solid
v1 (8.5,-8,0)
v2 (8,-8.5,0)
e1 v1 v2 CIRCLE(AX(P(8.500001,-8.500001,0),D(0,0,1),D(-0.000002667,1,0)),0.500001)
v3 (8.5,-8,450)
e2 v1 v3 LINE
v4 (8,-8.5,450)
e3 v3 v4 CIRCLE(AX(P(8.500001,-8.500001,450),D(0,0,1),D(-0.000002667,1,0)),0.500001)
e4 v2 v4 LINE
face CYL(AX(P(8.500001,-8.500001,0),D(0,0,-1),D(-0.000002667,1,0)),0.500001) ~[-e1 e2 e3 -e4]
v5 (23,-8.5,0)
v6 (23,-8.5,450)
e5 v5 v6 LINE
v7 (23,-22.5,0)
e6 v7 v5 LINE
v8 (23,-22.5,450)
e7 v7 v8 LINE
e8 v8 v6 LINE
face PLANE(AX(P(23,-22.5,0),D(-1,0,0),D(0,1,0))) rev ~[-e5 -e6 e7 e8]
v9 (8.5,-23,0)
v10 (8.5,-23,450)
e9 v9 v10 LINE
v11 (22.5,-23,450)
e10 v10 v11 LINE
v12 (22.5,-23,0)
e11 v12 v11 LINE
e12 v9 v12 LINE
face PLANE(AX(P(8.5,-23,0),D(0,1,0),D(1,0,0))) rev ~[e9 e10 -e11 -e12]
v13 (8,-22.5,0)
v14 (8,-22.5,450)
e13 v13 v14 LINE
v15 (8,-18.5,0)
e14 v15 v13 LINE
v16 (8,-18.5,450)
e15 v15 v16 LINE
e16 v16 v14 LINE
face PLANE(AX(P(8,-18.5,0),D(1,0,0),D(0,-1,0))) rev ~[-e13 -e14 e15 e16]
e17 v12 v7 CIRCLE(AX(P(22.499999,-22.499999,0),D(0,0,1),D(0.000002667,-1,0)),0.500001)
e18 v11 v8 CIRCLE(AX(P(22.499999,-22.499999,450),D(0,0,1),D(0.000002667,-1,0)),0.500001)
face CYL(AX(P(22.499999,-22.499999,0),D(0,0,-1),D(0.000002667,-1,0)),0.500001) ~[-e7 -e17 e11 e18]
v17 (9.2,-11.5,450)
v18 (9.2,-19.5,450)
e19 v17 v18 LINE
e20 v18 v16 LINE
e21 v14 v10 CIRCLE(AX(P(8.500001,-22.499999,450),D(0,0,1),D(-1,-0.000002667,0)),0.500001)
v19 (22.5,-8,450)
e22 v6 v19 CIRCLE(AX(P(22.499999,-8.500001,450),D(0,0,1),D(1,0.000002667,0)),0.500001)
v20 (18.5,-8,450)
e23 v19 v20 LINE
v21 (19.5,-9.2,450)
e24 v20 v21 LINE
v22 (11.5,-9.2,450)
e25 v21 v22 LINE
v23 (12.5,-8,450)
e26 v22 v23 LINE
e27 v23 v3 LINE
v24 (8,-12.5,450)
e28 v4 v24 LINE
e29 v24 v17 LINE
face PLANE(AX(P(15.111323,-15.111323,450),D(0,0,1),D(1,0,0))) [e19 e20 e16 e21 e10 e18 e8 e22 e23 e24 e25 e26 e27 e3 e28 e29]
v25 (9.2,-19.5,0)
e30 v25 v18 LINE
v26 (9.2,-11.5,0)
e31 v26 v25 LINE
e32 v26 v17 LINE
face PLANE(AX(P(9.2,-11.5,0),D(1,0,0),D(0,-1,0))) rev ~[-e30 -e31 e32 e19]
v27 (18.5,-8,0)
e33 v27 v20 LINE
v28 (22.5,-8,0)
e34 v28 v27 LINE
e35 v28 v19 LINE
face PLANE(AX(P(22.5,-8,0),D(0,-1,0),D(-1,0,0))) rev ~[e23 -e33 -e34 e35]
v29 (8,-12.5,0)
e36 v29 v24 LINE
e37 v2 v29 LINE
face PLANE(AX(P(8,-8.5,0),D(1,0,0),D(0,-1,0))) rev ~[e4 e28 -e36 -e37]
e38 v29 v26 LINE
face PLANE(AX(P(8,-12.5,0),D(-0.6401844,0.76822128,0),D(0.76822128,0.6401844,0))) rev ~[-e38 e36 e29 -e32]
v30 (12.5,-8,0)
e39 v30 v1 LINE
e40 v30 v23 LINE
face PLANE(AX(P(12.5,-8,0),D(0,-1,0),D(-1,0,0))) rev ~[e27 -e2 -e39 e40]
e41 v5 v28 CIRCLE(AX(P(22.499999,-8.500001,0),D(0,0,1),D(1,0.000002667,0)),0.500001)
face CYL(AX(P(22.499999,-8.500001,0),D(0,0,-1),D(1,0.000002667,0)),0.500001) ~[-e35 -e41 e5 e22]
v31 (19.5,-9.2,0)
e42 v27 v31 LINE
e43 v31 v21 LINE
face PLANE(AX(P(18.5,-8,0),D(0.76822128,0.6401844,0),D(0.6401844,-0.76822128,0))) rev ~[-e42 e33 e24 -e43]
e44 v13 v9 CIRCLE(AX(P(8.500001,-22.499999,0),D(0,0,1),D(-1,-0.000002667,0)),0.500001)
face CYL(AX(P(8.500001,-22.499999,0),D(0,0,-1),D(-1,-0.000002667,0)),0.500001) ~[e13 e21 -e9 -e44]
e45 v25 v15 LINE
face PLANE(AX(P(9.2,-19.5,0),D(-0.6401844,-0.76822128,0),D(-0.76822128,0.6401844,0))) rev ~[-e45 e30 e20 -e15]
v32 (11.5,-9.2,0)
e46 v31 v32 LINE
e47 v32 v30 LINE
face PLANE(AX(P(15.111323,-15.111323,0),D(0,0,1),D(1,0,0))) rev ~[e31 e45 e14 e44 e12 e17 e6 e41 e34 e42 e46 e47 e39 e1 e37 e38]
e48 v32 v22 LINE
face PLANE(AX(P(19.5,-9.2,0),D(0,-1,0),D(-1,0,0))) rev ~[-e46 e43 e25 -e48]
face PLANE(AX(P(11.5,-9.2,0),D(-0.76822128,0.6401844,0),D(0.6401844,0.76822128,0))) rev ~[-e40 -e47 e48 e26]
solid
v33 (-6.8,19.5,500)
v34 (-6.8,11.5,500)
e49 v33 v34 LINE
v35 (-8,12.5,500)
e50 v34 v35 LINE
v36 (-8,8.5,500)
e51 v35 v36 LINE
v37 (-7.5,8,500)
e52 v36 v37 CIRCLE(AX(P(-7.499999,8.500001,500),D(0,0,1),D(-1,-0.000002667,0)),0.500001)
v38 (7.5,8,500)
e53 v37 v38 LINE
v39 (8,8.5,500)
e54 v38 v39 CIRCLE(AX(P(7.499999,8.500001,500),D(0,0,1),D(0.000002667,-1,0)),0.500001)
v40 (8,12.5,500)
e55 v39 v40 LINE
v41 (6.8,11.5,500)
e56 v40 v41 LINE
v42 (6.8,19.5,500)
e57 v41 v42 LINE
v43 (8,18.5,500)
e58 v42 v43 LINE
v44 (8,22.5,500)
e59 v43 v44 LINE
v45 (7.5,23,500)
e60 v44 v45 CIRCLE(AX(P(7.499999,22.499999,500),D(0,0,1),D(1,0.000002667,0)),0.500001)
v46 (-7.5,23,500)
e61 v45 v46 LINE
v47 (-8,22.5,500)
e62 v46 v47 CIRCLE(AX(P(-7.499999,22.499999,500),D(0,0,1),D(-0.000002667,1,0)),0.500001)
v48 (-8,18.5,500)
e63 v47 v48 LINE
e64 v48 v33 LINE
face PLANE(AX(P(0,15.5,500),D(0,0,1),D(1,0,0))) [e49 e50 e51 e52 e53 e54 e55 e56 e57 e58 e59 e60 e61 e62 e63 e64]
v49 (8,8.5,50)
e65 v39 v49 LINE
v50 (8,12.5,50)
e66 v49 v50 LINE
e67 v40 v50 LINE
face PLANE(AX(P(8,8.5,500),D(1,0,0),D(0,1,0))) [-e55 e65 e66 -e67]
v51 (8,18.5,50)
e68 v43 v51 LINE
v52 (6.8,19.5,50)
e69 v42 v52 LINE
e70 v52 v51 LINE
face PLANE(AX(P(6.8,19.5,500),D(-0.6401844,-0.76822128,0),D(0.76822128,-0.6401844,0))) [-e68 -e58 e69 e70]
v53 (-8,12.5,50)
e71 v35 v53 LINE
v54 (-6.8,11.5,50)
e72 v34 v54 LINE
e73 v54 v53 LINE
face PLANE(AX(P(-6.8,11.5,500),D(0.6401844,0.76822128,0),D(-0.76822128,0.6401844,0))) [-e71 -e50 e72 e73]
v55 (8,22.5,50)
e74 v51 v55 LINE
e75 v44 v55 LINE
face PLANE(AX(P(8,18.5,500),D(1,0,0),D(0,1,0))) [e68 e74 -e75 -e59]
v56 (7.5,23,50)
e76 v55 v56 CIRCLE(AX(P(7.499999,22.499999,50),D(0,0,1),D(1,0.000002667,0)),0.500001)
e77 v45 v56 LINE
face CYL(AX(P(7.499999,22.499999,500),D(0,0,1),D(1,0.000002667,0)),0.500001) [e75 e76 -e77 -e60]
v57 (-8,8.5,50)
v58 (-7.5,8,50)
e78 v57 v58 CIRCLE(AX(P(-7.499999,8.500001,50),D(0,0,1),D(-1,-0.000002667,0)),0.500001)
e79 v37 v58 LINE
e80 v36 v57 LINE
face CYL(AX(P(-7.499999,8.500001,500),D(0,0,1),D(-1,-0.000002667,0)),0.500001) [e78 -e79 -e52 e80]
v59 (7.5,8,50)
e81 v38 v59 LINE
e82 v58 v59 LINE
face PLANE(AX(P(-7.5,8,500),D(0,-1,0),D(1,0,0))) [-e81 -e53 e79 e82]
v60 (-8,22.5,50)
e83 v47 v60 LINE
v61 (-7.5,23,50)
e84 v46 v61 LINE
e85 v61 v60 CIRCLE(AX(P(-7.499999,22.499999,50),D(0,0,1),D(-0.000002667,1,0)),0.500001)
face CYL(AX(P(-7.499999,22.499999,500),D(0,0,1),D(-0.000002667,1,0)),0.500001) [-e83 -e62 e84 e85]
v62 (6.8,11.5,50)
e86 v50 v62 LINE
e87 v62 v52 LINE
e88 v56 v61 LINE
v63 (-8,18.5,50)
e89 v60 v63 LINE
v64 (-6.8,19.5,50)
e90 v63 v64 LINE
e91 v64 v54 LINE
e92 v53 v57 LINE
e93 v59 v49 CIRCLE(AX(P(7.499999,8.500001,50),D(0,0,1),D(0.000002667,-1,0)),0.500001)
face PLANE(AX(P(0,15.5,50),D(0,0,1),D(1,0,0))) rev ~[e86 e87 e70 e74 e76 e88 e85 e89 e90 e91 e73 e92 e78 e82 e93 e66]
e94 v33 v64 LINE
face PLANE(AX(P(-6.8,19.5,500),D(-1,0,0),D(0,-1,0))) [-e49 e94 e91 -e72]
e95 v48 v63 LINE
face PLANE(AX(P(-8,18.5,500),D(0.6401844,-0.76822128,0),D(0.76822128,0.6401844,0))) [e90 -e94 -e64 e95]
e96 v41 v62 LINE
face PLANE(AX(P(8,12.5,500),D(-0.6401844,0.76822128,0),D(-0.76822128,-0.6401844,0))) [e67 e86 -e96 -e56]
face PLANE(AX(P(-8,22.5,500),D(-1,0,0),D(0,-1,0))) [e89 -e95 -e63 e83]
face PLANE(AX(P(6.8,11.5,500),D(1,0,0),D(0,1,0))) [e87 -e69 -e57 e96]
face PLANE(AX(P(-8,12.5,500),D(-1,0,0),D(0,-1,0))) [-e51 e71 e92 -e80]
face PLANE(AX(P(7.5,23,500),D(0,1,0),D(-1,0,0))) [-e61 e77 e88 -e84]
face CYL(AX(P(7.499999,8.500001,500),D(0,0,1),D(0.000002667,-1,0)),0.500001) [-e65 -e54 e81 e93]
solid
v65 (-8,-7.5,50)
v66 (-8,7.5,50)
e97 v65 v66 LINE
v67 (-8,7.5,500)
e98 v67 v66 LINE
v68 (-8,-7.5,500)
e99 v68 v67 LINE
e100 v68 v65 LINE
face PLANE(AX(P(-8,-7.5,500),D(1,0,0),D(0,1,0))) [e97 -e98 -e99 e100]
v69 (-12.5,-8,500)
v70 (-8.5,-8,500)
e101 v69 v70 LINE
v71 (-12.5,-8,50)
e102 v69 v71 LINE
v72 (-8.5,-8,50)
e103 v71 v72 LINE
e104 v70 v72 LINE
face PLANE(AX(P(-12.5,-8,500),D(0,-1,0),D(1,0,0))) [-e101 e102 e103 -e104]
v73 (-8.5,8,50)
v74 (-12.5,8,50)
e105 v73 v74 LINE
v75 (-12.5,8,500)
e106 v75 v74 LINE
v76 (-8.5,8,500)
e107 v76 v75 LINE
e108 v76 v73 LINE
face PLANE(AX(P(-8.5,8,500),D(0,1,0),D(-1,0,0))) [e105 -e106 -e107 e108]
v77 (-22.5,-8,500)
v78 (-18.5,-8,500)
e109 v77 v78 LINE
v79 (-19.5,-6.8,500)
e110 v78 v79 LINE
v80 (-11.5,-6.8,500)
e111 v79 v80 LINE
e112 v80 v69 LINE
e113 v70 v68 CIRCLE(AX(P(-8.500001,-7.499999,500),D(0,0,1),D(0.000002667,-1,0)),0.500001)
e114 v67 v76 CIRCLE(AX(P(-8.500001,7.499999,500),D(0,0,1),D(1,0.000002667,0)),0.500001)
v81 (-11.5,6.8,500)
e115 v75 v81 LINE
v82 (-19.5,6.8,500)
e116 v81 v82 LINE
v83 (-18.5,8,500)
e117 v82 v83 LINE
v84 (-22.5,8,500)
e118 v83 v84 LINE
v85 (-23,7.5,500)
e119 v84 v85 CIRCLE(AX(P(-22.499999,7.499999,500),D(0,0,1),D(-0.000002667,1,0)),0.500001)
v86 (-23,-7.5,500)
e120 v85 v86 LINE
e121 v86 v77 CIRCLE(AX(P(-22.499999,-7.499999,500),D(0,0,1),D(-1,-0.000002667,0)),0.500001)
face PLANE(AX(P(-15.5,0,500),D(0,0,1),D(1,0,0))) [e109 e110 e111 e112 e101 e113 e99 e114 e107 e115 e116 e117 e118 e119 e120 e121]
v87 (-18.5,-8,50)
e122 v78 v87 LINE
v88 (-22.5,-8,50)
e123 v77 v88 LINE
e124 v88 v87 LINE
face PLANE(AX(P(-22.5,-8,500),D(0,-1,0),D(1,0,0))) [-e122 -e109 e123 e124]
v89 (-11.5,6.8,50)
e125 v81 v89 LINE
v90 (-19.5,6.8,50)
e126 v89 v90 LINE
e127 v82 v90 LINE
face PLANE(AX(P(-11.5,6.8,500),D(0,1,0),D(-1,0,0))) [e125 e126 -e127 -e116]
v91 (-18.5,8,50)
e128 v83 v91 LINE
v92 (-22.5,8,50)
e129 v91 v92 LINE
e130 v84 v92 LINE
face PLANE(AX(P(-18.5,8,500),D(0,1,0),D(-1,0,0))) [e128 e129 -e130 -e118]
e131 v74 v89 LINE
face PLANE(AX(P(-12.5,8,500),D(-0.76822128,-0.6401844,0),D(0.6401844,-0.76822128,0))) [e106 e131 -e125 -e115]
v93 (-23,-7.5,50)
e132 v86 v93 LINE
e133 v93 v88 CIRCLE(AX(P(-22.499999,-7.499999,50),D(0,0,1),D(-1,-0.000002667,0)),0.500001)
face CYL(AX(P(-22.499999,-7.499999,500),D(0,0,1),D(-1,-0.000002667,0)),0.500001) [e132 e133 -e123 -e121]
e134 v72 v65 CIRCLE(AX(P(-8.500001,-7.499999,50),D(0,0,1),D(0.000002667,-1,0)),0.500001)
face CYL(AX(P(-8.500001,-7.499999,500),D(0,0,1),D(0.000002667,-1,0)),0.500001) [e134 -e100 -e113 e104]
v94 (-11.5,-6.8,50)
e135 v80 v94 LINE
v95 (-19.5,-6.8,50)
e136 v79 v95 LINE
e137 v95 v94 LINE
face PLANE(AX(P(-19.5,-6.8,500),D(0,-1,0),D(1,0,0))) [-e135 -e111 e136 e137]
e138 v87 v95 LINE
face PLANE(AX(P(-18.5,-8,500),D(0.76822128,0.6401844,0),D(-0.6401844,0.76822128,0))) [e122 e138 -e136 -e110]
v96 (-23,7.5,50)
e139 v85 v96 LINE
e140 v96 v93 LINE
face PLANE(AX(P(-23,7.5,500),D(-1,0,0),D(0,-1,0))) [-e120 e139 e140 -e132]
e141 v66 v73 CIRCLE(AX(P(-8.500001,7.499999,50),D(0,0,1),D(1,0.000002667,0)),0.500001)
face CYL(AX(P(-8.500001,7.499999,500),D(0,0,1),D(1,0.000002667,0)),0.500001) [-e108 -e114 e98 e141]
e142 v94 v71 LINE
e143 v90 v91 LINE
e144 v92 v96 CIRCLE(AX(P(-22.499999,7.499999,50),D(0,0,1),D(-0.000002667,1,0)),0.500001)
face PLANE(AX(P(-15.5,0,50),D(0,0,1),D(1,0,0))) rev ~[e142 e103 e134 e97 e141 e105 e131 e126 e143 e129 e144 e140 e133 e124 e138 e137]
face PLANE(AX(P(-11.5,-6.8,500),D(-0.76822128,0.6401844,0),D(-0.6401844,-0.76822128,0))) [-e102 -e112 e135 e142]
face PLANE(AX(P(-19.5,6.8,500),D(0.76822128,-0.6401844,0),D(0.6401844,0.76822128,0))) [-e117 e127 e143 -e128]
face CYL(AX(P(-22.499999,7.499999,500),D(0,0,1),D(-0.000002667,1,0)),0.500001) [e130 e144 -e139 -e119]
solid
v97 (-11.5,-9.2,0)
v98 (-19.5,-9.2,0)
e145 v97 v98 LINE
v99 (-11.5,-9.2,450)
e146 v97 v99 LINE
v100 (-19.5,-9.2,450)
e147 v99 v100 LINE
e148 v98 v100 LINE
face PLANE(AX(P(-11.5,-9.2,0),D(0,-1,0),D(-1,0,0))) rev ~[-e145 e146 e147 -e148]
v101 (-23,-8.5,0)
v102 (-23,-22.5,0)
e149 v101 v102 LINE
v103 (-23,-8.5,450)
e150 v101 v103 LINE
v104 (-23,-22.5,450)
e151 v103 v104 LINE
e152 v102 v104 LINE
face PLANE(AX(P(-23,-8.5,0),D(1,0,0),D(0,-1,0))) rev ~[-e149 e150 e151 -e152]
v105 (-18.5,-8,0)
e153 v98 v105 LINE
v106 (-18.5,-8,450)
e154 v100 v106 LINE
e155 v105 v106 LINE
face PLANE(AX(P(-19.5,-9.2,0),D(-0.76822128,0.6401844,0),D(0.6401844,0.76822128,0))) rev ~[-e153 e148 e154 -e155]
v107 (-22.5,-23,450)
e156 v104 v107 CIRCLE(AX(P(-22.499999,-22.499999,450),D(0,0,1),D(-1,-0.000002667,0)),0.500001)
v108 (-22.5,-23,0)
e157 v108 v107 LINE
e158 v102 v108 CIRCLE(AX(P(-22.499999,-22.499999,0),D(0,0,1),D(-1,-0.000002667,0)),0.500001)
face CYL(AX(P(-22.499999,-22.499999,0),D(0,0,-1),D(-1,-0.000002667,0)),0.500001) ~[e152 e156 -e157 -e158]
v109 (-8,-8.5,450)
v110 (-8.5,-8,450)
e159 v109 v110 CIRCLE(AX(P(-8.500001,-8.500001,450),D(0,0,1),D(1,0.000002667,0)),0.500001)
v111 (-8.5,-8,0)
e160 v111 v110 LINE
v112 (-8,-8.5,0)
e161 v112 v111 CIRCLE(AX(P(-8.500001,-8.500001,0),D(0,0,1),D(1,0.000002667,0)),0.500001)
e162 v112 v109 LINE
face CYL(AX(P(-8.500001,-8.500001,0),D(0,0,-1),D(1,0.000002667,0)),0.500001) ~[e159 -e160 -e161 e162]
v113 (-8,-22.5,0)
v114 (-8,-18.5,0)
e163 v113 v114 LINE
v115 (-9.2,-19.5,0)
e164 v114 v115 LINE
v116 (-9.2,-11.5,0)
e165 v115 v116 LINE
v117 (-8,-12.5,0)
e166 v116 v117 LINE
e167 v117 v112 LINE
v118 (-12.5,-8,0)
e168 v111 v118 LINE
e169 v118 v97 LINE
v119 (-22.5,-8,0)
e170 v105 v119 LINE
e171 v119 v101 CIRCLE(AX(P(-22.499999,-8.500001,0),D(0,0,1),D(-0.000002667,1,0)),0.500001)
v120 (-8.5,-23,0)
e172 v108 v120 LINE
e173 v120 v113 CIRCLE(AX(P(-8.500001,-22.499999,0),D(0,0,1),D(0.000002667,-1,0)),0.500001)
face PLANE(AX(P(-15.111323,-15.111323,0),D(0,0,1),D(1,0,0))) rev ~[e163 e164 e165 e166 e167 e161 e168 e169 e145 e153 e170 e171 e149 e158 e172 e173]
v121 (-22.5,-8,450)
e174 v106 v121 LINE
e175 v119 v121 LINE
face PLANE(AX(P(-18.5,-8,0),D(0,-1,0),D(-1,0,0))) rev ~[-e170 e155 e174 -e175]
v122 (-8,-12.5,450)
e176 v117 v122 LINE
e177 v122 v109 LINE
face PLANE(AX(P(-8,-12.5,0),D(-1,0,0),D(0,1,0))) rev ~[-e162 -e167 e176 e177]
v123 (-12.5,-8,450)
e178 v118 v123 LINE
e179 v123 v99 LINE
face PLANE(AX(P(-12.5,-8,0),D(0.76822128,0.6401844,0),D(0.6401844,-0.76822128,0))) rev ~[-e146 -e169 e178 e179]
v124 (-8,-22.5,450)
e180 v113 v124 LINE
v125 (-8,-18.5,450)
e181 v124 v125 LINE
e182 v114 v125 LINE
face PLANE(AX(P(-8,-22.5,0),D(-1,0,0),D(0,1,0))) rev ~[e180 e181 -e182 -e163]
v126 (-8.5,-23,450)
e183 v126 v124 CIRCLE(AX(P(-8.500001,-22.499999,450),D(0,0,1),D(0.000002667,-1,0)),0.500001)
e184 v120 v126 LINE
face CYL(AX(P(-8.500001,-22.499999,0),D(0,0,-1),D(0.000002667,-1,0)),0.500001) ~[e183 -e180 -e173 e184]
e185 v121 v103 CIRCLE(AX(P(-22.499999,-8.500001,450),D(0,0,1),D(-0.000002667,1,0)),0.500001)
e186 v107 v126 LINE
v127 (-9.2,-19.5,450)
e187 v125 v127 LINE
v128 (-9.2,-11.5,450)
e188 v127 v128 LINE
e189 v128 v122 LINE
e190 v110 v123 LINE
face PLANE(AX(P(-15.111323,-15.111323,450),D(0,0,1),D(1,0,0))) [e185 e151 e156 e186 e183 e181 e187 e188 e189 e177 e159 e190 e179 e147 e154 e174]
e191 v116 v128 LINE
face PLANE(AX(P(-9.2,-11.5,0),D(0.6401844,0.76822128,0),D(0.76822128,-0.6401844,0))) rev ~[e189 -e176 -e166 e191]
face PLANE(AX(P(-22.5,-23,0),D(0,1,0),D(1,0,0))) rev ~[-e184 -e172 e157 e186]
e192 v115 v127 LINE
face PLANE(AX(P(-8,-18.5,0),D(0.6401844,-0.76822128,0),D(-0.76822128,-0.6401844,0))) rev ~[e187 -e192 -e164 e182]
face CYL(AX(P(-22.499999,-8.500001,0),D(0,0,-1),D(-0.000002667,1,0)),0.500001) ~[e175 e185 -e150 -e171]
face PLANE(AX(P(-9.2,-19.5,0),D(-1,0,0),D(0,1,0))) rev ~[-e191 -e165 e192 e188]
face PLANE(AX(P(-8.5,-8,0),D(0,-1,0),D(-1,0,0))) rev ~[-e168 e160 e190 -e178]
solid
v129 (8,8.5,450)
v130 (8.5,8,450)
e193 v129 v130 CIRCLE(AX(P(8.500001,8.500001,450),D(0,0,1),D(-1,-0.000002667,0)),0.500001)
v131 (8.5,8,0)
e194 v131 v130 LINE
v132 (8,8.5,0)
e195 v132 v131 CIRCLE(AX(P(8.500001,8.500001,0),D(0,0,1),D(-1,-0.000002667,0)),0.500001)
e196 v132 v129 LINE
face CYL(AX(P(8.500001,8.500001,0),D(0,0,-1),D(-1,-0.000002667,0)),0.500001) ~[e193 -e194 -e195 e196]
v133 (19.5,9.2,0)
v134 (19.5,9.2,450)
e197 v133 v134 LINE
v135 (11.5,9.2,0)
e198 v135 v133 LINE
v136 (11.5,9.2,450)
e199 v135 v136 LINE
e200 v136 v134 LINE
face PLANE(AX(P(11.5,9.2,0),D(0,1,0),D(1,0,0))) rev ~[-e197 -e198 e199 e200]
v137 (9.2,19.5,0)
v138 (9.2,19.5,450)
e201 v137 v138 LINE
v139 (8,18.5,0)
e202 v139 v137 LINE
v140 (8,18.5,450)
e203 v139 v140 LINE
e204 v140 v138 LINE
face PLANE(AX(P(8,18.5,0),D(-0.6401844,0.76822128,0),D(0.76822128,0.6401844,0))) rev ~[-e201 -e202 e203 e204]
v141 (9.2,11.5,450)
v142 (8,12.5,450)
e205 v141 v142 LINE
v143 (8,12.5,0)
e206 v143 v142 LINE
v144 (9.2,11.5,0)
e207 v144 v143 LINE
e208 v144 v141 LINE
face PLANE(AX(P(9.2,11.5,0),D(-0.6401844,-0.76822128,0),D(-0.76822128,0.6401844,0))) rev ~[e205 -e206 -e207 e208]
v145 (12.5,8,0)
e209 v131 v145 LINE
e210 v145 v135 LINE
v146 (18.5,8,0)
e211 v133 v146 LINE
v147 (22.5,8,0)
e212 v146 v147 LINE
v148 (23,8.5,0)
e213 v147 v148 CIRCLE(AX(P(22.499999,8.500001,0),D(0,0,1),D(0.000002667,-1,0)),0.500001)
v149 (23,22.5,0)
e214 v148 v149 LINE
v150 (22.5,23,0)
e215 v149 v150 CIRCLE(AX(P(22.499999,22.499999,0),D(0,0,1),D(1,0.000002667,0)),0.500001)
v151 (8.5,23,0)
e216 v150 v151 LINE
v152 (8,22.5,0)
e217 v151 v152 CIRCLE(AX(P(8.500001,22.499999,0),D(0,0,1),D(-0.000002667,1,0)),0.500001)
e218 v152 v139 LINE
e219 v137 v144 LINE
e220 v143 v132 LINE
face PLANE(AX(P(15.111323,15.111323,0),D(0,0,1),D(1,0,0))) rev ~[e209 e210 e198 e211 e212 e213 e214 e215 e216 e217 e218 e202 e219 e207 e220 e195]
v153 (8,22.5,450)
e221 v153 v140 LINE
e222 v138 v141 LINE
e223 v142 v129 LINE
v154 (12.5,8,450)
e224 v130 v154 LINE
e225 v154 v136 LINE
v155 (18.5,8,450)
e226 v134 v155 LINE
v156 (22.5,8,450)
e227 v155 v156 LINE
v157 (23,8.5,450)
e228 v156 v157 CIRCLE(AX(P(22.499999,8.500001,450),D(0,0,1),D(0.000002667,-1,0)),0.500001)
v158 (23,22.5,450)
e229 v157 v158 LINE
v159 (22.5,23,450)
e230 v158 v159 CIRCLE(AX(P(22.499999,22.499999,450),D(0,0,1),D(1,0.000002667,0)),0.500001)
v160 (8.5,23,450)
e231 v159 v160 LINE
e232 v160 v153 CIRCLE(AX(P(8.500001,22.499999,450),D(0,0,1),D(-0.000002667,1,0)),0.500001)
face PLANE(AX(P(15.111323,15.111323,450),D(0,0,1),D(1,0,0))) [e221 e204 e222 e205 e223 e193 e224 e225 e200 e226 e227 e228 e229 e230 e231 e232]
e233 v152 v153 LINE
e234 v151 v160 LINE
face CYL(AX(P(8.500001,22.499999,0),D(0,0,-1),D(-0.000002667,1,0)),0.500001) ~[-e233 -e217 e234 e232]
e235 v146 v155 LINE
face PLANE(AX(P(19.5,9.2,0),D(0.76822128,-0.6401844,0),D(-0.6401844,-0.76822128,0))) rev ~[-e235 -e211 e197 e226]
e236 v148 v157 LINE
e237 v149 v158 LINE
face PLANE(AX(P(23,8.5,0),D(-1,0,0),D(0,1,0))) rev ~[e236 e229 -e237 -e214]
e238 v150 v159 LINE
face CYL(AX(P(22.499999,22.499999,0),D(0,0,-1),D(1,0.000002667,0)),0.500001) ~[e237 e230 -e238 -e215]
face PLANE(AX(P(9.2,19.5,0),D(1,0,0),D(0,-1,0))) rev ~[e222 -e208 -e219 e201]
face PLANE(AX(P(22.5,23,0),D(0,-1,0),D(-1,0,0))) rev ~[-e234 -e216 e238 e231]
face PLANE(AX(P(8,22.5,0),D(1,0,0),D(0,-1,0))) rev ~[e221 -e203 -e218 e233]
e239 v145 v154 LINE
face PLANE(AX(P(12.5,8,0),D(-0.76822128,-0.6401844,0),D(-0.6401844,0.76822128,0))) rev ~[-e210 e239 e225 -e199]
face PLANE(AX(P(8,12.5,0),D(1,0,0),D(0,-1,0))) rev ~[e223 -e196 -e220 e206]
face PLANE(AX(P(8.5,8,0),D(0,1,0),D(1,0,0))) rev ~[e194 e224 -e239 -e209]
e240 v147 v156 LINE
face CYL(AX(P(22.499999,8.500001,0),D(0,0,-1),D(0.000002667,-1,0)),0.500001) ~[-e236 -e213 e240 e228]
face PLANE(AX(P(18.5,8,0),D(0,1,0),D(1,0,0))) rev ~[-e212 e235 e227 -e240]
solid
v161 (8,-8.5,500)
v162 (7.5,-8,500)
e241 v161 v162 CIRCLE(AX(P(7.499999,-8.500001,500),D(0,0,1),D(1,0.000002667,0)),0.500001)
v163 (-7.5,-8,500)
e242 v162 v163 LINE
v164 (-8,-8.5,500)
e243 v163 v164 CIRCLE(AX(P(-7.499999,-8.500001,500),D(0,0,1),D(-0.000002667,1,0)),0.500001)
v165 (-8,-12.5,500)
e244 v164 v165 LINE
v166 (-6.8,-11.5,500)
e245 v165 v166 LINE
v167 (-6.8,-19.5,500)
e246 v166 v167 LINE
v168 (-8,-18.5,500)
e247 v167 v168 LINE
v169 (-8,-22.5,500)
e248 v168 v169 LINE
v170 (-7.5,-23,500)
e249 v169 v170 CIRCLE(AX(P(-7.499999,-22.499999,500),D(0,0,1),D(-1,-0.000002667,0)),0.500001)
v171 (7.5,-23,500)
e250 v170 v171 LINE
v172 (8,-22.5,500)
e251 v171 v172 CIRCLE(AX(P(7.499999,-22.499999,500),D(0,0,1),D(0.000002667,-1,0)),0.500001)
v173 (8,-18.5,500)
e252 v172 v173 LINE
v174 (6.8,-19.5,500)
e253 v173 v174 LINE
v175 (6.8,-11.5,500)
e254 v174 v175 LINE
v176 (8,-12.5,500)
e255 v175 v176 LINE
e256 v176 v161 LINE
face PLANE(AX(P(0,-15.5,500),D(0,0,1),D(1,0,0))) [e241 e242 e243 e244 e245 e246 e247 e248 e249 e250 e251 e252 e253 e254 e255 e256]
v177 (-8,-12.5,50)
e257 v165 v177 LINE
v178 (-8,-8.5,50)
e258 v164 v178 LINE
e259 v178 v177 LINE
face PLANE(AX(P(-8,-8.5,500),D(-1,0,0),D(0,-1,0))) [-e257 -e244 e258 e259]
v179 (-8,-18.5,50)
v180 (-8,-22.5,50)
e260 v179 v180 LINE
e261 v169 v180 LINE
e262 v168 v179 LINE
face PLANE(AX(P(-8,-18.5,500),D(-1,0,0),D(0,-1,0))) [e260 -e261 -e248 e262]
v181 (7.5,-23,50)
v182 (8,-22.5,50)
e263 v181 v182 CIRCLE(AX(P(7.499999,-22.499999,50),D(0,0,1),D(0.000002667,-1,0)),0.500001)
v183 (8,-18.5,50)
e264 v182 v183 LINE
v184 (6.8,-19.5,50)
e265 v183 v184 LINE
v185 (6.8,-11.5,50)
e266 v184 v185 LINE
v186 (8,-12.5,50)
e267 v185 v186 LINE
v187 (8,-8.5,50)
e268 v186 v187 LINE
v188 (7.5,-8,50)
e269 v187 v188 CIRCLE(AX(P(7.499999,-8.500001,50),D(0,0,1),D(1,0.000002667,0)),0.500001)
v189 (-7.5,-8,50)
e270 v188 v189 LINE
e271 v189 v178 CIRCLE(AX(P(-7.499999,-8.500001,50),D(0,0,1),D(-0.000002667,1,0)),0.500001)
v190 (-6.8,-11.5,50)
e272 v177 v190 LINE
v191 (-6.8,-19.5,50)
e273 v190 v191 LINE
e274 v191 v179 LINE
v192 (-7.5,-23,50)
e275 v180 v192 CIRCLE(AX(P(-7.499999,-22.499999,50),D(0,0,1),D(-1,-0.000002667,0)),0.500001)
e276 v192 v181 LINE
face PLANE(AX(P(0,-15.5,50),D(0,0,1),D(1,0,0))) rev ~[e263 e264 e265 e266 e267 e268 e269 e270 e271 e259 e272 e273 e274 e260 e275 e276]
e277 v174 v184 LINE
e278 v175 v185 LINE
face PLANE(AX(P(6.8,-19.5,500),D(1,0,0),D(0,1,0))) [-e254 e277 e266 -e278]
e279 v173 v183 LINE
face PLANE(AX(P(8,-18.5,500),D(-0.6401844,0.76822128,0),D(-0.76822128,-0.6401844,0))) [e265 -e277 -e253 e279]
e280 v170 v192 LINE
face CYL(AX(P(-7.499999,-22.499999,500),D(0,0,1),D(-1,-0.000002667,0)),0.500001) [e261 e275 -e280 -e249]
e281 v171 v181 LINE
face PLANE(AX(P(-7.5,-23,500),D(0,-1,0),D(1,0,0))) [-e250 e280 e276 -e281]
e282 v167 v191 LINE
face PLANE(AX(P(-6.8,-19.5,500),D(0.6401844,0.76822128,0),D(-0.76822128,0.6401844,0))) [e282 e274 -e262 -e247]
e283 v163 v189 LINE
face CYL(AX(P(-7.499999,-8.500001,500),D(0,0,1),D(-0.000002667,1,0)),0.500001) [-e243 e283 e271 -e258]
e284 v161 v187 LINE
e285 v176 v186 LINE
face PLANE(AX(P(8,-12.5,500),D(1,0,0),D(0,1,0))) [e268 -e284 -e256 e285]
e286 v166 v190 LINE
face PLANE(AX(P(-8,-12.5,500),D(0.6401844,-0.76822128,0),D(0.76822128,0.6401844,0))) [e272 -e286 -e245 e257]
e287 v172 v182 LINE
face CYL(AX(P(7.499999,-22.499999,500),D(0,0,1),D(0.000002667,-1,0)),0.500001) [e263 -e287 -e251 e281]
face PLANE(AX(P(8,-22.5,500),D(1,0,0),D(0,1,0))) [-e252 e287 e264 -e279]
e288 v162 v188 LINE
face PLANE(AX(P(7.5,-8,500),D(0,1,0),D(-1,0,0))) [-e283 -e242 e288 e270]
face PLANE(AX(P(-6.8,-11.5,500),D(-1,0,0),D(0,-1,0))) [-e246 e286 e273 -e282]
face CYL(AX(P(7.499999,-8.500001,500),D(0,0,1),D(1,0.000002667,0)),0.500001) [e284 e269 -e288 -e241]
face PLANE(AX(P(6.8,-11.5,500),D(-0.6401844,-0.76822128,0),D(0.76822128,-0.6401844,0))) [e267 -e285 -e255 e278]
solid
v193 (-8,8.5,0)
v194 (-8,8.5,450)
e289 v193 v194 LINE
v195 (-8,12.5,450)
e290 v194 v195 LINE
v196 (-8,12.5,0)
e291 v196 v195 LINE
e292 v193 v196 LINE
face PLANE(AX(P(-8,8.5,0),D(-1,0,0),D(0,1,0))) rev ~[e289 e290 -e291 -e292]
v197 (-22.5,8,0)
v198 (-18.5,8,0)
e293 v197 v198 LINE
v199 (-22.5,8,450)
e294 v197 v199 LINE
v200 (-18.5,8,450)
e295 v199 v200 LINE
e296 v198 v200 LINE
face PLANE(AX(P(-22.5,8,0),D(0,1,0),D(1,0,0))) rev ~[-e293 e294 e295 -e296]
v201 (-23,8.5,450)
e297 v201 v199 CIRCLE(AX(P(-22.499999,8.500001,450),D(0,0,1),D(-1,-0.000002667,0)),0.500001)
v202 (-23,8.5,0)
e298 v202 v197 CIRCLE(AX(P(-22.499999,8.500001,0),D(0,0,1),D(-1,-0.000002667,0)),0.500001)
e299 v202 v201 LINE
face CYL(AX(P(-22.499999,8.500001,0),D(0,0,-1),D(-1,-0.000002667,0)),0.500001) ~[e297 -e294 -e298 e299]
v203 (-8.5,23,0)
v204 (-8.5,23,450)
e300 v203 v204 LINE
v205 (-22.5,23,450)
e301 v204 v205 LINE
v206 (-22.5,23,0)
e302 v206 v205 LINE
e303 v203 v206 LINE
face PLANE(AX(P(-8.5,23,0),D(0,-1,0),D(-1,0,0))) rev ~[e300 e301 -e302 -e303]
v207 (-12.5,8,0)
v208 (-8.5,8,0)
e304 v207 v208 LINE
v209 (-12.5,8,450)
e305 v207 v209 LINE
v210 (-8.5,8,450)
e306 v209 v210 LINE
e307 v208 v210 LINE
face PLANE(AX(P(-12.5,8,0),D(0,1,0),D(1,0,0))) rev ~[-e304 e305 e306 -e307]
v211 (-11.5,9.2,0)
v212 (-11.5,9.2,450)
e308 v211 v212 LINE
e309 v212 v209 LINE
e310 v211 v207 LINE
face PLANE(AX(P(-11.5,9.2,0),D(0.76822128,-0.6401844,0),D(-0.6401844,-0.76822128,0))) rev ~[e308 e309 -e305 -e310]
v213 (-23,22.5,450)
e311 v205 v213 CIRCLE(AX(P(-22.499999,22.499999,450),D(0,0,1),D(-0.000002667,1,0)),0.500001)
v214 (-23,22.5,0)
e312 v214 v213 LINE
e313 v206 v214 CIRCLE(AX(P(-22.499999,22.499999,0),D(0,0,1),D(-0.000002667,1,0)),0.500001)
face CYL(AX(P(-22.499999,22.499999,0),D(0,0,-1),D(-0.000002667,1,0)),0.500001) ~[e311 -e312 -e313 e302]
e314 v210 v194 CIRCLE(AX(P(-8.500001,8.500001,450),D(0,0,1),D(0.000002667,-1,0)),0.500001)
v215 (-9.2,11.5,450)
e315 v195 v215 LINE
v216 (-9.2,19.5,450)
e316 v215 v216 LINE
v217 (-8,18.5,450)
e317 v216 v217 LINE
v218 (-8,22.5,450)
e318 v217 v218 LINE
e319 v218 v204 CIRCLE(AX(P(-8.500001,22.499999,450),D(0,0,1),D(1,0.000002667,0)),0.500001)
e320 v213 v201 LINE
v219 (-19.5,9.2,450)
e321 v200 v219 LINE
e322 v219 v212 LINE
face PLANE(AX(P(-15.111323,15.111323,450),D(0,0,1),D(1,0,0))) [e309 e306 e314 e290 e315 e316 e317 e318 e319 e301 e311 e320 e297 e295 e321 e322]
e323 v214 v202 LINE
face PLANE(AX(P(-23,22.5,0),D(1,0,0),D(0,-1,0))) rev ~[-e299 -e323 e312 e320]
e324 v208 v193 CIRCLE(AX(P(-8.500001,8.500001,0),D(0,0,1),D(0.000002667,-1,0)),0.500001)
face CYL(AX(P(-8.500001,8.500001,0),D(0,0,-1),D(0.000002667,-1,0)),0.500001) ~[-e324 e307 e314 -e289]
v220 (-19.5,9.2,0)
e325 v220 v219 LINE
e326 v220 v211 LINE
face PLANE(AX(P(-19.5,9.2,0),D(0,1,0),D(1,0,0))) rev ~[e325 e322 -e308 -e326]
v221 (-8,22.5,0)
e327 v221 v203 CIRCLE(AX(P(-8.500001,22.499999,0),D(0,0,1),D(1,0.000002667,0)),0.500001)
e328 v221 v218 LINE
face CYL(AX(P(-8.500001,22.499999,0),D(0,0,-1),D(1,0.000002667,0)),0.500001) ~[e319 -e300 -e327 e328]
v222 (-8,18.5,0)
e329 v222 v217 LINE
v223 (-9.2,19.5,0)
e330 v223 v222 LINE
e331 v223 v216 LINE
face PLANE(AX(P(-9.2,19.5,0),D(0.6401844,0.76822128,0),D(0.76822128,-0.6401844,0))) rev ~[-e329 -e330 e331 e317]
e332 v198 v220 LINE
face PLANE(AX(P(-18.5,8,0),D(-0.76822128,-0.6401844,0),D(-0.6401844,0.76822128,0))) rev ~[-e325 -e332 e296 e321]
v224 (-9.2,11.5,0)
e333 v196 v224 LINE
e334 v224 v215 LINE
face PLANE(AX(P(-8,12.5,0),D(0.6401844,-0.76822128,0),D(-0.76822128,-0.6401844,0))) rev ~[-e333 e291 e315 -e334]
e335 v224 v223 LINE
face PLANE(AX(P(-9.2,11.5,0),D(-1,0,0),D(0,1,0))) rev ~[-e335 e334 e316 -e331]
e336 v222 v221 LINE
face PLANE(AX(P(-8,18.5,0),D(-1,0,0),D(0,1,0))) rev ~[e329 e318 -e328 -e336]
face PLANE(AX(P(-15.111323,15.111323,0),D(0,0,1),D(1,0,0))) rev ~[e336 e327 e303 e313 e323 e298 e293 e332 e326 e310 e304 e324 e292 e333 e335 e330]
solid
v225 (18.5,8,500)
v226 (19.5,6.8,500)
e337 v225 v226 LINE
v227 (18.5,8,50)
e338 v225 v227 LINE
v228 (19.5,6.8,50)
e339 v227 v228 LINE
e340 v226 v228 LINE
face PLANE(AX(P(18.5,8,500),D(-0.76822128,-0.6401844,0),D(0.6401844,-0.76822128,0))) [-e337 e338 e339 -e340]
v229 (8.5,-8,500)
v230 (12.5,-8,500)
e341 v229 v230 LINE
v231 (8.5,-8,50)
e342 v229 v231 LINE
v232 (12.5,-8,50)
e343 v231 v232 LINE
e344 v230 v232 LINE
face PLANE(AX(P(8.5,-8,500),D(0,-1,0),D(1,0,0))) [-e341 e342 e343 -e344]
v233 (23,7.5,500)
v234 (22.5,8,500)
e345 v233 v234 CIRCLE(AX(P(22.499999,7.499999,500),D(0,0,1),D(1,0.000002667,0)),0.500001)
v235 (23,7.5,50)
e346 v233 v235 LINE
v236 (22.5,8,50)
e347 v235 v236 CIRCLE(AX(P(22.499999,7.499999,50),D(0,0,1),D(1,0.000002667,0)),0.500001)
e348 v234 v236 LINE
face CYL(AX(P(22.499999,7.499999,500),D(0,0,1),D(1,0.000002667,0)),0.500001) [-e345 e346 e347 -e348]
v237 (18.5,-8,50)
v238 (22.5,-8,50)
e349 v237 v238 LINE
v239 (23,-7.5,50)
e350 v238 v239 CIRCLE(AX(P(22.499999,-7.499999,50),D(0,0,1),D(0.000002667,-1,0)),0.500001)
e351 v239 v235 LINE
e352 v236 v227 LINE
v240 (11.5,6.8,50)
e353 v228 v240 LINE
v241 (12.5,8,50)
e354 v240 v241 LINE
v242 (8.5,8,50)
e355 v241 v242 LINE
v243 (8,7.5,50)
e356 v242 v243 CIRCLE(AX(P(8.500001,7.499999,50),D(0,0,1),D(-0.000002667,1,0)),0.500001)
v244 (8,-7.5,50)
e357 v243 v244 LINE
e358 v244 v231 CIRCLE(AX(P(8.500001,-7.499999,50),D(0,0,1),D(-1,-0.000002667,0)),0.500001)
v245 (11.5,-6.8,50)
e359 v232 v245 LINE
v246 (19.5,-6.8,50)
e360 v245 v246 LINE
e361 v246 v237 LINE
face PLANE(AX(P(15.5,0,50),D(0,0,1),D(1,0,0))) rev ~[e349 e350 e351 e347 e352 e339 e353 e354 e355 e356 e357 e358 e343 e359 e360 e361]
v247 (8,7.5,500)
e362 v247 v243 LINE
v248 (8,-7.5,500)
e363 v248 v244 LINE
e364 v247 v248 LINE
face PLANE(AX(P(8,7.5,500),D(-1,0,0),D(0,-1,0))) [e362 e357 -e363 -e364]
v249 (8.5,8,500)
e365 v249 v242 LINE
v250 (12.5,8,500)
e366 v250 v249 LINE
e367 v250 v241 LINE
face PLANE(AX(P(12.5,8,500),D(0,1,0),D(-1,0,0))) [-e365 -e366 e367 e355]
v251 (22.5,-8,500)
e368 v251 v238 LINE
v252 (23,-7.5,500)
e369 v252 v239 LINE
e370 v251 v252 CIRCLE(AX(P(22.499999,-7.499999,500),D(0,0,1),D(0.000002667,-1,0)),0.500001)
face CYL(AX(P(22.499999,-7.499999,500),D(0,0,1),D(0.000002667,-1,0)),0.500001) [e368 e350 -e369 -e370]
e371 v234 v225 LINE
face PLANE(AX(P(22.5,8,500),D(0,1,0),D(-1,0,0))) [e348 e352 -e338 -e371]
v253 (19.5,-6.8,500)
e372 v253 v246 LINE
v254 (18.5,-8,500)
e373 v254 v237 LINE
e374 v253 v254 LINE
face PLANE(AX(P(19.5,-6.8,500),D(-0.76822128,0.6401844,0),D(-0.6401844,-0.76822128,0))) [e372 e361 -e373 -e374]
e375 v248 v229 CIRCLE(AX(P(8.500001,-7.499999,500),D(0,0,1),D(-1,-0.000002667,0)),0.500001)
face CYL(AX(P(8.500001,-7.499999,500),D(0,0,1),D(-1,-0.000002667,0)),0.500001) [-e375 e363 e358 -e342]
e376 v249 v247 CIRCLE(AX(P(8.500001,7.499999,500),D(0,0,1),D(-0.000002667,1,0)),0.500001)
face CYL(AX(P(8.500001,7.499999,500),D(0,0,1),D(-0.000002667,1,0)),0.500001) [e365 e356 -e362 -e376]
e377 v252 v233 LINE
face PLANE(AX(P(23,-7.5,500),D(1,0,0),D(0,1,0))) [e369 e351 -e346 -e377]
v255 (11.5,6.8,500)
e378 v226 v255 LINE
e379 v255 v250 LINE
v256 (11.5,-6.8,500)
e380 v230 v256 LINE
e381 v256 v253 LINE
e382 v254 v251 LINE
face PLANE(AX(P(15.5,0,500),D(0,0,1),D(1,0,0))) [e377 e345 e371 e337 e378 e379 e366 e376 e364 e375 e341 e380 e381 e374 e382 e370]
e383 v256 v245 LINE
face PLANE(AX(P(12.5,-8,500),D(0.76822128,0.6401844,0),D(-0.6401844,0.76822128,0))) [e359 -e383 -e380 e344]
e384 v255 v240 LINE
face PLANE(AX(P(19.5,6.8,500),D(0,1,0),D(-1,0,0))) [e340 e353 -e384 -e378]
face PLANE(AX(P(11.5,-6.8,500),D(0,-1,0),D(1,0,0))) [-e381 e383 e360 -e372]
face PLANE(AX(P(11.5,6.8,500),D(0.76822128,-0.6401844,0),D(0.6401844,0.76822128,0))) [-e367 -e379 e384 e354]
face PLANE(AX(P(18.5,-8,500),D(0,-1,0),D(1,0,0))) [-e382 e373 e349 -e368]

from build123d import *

# Parameters (mm, degrees)
F4_DEPTH = 450
F5_DEPTH = 450


with BuildPart() as f4:
    # F2 (on Top) → F4 (new body)
    with BuildSketch(Plane.XY):
        with BuildLine():
            Line((-22.5, -23), (-8.5, -23))
            ThreePointArc((-8.5, -23), (-8.146447, -22.853553), (-8, -22.5))
            Line((-8, -22.5), (-8, -18.5))
            Line((-8, -18.5), (-9.2, -19.5))
            Line((-9.2, -19.5), (-9.2, -15.5))
            Line((-9.2, -15.5), (-9.2, -11.5))
            Line((-9.2, -11.5), (-8, -12.5))
            Line((-8, -12.5), (-8, -8.5))
            ThreePointArc((-8, -8.5), (-8.146447, -8.146447), (-8.5, -8))
            Line((-8.5, -8), (-12.5, -8))
            Line((-12.5, -8), (-11.5, -9.2))
            Line((-11.5, -9.2), (-15.5, -9.2))
            Line((-15.5, -9.2), (-19.5, -9.2))
            Line((-19.5, -9.2), (-18.5, -8))
            Line((-18.5, -8), (-22.5, -8))
            ThreePointArc((-22.5, -8), (-22.853553, -8.146447), (-23, -8.5))
            Line((-23, -8.5), (-23, -22.5))
            ThreePointArc((-23, -22.5), (-22.853553, -22.853553), (-22.5, -23))
        make_face()
        with BuildLine():
            ThreePointArc((8, -22.5), (8.146447, -22.853553), (8.5, -23))
            Line((8.5, -23), (22.5, -23))
            ThreePointArc((22.5, -23), (22.853553, -22.853553), (23, -22.5))
            Line((23, -22.5), (23, -8.5))
            ThreePointArc((23, -8.5), (22.853553, -8.146447), (22.5, -8))
            Line((22.5, -8), (18.5, -8))
            Line((18.5, -8), (19.5, -9.2))
            Line((19.5, -9.2), (15.5, -9.2))
            Line((15.5, -9.2), (11.5, -9.2))
            Line((11.5, -9.2), (12.5, -8))
            Line((12.5, -8), (8.5, -8))
            ThreePointArc((8.5, -8), (8.146447, -8.146447), (8, -8.5))
            Line((8, -8.5), (8, -12.5))
            Line((8, -12.5), (9.2, -11.5))
            Line((9.2, -11.5), (9.2, -15.5))
            Line((9.2, -15.5), (9.2, -19.5))
            Line((9.2, -19.5), (8, -18.5))
            Line((8, -18.5), (8, -22.5))
        make_face()
        with BuildLine():
            ThreePointArc((22.5, 8), (22.853553, 8.146447), (23, 8.5))
            Line((23, 8.5), (23, 22.5))
            ThreePointArc((23, 22.5), (22.853553, 22.853553), (22.5, 23))
            Line((22.5, 23), (8.5, 23))
            ThreePointArc((8.5, 23), (8.146447, 22.853553), (8, 22.5))
            Line((8, 22.5), (8, 18.5))
            Line((8, 18.5), (9.2, 19.5))
            Line((9.2, 19.5), (9.2, 15.5))
            Line((9.2, 15.5), (9.2, 11.5))
            Line((9.2, 11.5), (8, 12.5))
            Line((8, 12.5), (8, 8.5))
            ThreePointArc((8, 8.5), (8.146447, 8.146447), (8.5, 8))
            Line((8.5, 8), (12.5, 8))
            Line((12.5, 8), (11.5, 9.2))
            Line((11.5, 9.2), (15.5, 9.2))
            Line((15.5, 9.2), (19.5, 9.2))
            Line((19.5, 9.2), (18.5, 8))
            Line((18.5, 8), (22.5, 8))
        make_face()
        with BuildLine():
            ThreePointArc((-8, 22.5), (-8.146447, 22.853553), (-8.5, 23))
            Line((-8.5, 23), (-22.5, 23))
            ThreePointArc((-22.5, 23), (-22.853553, 22.853553), (-23, 22.5))
            Line((-23, 22.5), (-23, 8.5))
            ThreePointArc((-23, 8.5), (-22.853553, 8.146447), (-22.5, 8))
            Line((-22.5, 8), (-18.5, 8))
            Line((-18.5, 8), (-19.5, 9.2))
            Line((-19.5, 9.2), (-15.5, 9.2))
            Line((-15.5, 9.2), (-11.5, 9.2))
            Line((-11.5, 9.2), (-12.5, 8))
            Line((-12.5, 8), (-8.5, 8))
            ThreePointArc((-8.5, 8), (-8.146447, 8.146447), (-8, 8.5))
            Line((-8, 8.5), (-8, 12.5))
            Line((-8, 12.5), (-9.2, 11.5))
            Line((-9.2, 11.5), (-9.2, 15.5))
            Line((-9.2, 15.5), (-9.2, 19.5))
            Line((-9.2, 19.5), (-8, 18.5))
            Line((-8, 18.5), (-8, 22.5))
        make_face()
    extrude(amount=F4_DEPTH)


with BuildPart() as f5:
    # F3 (on offset) → F5 (new body)
    with BuildSketch(Plane.XY.offset(500)):
        with BuildLine():
            Line((-18.5, 8), (-22.5, 8))
            ThreePointArc((-22.5, 8), (-22.853553, 7.853553), (-23, 7.5))
            Line((-23, 7.5), (-23, 0))
            Line((-23, 0), (-23, -7.5))
            ThreePointArc((-23, -7.5), (-22.853553, -7.853553), (-22.5, -8))
            Line((-22.5, -8), (-18.5, -8))
            Line((-18.5, -8), (-19.5, -6.8))
            Line((-19.5, -6.8), (-15.5, -6.8))
            Line((-15.5, -6.8), (-11.5, -6.8))
            Line((-11.5, -6.8), (-12.5, -8))
            Line((-12.5, -8), (-8.5, -8))
            ThreePointArc((-8.5, -8), (-8.146447, -7.853553), (-8, -7.5))
            Line((-8, -7.5), (-8, 0))
            Line((-8, 0), (-8, 7.5))
            ThreePointArc((-8, 7.5), (-8.146447, 7.853553), (-8.5, 8))
            Line((-8.5, 8), (-12.5, 8))
            Line((-12.5, 8), (-11.5, 6.8))
            Line((-11.5, 6.8), (-15.5, 6.8))
            Line((-15.5, 6.8), (-19.5, 6.8))
            Line((-19.5, 6.8), (-18.5, 8))
        make_face()
        with BuildLine():
            Line((8, -12.5), (8, -8.5))
            ThreePointArc((8, -8.5), (7.853553, -8.146447), (7.5, -8))
            Line((7.5, -8), (0, -8))
            Line((0, -8), (-7.5, -8))
            ThreePointArc((-7.5, -8), (-7.853553, -8.146447), (-8, -8.5))
            Line((-8, -8.5), (-8, -12.5))
            Line((-8, -12.5), (-6.8, -11.5))
            Line((-6.8, -11.5), (-6.8, -15.5))
            Line((-6.8, -15.5), (-6.8, -19.5))
            Line((-6.8, -19.5), (-8, -18.5))
            Line((-8, -18.5), (-8, -22.5))
            ThreePointArc((-8, -22.5), (-7.853553, -22.853553), (-7.5, -23))
            Line((-7.5, -23), (0, -23))
            Line((0, -23), (7.5, -23))
            ThreePointArc((7.5, -23), (7.853553, -22.853553), (8, -22.5))
            Line((8, -22.5), (8, -18.5))
            Line((8, -18.5), (6.8, -19.5))
            Line((6.8, -19.5), (6.8, -15.5))
            Line((6.8, -15.5), (6.8, -11.5))
            Line((6.8, -11.5), (8, -12.5))
        make_face()
        with BuildLine():
            Line((12.5, 8), (8.5, 8))
            ThreePointArc((8.5, 8), (8.146447, 7.853553), (8, 7.5))
            Line((8, 7.5), (8, 0))
            Line((8, 0), (8, -7.5))
            ThreePointArc((8, -7.5), (8.146447, -7.853553), (8.5, -8))
            Line((8.5, -8), (12.5, -8))
            Line((12.5, -8), (11.5, -6.8))
            Line((11.5, -6.8), (15.5, -6.8))
            Line((15.5, -6.8), (19.5, -6.8))
            Line((19.5, -6.8), (18.5, -8))
            Line((18.5, -8), (22.5, -8))
            ThreePointArc((22.5, -8), (22.853553, -7.853553), (23, -7.5))
            Line((23, -7.5), (23, 0))
            Line((23, 0), (23, 7.5))
            ThreePointArc((23, 7.5), (22.853553, 7.853553), (22.5, 8))
            Line((22.5, 8), (18.5, 8))
            Line((18.5, 8), (19.5, 6.8))
            Line((19.5, 6.8), (15.5, 6.8))
            Line((15.5, 6.8), (11.5, 6.8))
            Line((11.5, 6.8), (12.5, 8))
        make_face()
        with BuildLine():
            Line((-8, 12.5), (-8, 8.5))
            ThreePointArc((-8, 8.5), (-7.853553, 8.146447), (-7.5, 8))
            Line((-7.5, 8), (0, 8))
            Line((0, 8), (7.5, 8))
            ThreePointArc((7.5, 8), (7.853553, 8.146447), (8, 8.5))
            Line((8, 8.5), (8, 12.5))
            Line((8, 12.5), (6.8, 11.5))
            Line((6.8, 11.5), (6.8, 15.5))
            Line((6.8, 15.5), (6.8, 19.5))
            Line((6.8, 19.5), (8, 18.5))
            Line((8, 18.5), (8, 22.5))
            ThreePointArc((8, 22.5), (7.853553, 22.853553), (7.5, 23))
            Line((7.5, 23), (0, 23))
            Line((0, 23), (-7.5, 23))
            ThreePointArc((-7.5, 23), (-7.853553, 22.853553), (-8, 22.5))
            Line((-8, 22.5), (-8, 18.5))
            Line((-8, 18.5), (-6.8, 19.5))
            Line((-6.8, 19.5), (-6.8, 15.5))
            Line((-6.8, 15.5), (-6.8, 11.5))
            Line((-6.8, 11.5), (-8, 12.5))
        make_face()
    extrude(amount=-F5_DEPTH)


solid = Compound([f4.part, f5.part])
